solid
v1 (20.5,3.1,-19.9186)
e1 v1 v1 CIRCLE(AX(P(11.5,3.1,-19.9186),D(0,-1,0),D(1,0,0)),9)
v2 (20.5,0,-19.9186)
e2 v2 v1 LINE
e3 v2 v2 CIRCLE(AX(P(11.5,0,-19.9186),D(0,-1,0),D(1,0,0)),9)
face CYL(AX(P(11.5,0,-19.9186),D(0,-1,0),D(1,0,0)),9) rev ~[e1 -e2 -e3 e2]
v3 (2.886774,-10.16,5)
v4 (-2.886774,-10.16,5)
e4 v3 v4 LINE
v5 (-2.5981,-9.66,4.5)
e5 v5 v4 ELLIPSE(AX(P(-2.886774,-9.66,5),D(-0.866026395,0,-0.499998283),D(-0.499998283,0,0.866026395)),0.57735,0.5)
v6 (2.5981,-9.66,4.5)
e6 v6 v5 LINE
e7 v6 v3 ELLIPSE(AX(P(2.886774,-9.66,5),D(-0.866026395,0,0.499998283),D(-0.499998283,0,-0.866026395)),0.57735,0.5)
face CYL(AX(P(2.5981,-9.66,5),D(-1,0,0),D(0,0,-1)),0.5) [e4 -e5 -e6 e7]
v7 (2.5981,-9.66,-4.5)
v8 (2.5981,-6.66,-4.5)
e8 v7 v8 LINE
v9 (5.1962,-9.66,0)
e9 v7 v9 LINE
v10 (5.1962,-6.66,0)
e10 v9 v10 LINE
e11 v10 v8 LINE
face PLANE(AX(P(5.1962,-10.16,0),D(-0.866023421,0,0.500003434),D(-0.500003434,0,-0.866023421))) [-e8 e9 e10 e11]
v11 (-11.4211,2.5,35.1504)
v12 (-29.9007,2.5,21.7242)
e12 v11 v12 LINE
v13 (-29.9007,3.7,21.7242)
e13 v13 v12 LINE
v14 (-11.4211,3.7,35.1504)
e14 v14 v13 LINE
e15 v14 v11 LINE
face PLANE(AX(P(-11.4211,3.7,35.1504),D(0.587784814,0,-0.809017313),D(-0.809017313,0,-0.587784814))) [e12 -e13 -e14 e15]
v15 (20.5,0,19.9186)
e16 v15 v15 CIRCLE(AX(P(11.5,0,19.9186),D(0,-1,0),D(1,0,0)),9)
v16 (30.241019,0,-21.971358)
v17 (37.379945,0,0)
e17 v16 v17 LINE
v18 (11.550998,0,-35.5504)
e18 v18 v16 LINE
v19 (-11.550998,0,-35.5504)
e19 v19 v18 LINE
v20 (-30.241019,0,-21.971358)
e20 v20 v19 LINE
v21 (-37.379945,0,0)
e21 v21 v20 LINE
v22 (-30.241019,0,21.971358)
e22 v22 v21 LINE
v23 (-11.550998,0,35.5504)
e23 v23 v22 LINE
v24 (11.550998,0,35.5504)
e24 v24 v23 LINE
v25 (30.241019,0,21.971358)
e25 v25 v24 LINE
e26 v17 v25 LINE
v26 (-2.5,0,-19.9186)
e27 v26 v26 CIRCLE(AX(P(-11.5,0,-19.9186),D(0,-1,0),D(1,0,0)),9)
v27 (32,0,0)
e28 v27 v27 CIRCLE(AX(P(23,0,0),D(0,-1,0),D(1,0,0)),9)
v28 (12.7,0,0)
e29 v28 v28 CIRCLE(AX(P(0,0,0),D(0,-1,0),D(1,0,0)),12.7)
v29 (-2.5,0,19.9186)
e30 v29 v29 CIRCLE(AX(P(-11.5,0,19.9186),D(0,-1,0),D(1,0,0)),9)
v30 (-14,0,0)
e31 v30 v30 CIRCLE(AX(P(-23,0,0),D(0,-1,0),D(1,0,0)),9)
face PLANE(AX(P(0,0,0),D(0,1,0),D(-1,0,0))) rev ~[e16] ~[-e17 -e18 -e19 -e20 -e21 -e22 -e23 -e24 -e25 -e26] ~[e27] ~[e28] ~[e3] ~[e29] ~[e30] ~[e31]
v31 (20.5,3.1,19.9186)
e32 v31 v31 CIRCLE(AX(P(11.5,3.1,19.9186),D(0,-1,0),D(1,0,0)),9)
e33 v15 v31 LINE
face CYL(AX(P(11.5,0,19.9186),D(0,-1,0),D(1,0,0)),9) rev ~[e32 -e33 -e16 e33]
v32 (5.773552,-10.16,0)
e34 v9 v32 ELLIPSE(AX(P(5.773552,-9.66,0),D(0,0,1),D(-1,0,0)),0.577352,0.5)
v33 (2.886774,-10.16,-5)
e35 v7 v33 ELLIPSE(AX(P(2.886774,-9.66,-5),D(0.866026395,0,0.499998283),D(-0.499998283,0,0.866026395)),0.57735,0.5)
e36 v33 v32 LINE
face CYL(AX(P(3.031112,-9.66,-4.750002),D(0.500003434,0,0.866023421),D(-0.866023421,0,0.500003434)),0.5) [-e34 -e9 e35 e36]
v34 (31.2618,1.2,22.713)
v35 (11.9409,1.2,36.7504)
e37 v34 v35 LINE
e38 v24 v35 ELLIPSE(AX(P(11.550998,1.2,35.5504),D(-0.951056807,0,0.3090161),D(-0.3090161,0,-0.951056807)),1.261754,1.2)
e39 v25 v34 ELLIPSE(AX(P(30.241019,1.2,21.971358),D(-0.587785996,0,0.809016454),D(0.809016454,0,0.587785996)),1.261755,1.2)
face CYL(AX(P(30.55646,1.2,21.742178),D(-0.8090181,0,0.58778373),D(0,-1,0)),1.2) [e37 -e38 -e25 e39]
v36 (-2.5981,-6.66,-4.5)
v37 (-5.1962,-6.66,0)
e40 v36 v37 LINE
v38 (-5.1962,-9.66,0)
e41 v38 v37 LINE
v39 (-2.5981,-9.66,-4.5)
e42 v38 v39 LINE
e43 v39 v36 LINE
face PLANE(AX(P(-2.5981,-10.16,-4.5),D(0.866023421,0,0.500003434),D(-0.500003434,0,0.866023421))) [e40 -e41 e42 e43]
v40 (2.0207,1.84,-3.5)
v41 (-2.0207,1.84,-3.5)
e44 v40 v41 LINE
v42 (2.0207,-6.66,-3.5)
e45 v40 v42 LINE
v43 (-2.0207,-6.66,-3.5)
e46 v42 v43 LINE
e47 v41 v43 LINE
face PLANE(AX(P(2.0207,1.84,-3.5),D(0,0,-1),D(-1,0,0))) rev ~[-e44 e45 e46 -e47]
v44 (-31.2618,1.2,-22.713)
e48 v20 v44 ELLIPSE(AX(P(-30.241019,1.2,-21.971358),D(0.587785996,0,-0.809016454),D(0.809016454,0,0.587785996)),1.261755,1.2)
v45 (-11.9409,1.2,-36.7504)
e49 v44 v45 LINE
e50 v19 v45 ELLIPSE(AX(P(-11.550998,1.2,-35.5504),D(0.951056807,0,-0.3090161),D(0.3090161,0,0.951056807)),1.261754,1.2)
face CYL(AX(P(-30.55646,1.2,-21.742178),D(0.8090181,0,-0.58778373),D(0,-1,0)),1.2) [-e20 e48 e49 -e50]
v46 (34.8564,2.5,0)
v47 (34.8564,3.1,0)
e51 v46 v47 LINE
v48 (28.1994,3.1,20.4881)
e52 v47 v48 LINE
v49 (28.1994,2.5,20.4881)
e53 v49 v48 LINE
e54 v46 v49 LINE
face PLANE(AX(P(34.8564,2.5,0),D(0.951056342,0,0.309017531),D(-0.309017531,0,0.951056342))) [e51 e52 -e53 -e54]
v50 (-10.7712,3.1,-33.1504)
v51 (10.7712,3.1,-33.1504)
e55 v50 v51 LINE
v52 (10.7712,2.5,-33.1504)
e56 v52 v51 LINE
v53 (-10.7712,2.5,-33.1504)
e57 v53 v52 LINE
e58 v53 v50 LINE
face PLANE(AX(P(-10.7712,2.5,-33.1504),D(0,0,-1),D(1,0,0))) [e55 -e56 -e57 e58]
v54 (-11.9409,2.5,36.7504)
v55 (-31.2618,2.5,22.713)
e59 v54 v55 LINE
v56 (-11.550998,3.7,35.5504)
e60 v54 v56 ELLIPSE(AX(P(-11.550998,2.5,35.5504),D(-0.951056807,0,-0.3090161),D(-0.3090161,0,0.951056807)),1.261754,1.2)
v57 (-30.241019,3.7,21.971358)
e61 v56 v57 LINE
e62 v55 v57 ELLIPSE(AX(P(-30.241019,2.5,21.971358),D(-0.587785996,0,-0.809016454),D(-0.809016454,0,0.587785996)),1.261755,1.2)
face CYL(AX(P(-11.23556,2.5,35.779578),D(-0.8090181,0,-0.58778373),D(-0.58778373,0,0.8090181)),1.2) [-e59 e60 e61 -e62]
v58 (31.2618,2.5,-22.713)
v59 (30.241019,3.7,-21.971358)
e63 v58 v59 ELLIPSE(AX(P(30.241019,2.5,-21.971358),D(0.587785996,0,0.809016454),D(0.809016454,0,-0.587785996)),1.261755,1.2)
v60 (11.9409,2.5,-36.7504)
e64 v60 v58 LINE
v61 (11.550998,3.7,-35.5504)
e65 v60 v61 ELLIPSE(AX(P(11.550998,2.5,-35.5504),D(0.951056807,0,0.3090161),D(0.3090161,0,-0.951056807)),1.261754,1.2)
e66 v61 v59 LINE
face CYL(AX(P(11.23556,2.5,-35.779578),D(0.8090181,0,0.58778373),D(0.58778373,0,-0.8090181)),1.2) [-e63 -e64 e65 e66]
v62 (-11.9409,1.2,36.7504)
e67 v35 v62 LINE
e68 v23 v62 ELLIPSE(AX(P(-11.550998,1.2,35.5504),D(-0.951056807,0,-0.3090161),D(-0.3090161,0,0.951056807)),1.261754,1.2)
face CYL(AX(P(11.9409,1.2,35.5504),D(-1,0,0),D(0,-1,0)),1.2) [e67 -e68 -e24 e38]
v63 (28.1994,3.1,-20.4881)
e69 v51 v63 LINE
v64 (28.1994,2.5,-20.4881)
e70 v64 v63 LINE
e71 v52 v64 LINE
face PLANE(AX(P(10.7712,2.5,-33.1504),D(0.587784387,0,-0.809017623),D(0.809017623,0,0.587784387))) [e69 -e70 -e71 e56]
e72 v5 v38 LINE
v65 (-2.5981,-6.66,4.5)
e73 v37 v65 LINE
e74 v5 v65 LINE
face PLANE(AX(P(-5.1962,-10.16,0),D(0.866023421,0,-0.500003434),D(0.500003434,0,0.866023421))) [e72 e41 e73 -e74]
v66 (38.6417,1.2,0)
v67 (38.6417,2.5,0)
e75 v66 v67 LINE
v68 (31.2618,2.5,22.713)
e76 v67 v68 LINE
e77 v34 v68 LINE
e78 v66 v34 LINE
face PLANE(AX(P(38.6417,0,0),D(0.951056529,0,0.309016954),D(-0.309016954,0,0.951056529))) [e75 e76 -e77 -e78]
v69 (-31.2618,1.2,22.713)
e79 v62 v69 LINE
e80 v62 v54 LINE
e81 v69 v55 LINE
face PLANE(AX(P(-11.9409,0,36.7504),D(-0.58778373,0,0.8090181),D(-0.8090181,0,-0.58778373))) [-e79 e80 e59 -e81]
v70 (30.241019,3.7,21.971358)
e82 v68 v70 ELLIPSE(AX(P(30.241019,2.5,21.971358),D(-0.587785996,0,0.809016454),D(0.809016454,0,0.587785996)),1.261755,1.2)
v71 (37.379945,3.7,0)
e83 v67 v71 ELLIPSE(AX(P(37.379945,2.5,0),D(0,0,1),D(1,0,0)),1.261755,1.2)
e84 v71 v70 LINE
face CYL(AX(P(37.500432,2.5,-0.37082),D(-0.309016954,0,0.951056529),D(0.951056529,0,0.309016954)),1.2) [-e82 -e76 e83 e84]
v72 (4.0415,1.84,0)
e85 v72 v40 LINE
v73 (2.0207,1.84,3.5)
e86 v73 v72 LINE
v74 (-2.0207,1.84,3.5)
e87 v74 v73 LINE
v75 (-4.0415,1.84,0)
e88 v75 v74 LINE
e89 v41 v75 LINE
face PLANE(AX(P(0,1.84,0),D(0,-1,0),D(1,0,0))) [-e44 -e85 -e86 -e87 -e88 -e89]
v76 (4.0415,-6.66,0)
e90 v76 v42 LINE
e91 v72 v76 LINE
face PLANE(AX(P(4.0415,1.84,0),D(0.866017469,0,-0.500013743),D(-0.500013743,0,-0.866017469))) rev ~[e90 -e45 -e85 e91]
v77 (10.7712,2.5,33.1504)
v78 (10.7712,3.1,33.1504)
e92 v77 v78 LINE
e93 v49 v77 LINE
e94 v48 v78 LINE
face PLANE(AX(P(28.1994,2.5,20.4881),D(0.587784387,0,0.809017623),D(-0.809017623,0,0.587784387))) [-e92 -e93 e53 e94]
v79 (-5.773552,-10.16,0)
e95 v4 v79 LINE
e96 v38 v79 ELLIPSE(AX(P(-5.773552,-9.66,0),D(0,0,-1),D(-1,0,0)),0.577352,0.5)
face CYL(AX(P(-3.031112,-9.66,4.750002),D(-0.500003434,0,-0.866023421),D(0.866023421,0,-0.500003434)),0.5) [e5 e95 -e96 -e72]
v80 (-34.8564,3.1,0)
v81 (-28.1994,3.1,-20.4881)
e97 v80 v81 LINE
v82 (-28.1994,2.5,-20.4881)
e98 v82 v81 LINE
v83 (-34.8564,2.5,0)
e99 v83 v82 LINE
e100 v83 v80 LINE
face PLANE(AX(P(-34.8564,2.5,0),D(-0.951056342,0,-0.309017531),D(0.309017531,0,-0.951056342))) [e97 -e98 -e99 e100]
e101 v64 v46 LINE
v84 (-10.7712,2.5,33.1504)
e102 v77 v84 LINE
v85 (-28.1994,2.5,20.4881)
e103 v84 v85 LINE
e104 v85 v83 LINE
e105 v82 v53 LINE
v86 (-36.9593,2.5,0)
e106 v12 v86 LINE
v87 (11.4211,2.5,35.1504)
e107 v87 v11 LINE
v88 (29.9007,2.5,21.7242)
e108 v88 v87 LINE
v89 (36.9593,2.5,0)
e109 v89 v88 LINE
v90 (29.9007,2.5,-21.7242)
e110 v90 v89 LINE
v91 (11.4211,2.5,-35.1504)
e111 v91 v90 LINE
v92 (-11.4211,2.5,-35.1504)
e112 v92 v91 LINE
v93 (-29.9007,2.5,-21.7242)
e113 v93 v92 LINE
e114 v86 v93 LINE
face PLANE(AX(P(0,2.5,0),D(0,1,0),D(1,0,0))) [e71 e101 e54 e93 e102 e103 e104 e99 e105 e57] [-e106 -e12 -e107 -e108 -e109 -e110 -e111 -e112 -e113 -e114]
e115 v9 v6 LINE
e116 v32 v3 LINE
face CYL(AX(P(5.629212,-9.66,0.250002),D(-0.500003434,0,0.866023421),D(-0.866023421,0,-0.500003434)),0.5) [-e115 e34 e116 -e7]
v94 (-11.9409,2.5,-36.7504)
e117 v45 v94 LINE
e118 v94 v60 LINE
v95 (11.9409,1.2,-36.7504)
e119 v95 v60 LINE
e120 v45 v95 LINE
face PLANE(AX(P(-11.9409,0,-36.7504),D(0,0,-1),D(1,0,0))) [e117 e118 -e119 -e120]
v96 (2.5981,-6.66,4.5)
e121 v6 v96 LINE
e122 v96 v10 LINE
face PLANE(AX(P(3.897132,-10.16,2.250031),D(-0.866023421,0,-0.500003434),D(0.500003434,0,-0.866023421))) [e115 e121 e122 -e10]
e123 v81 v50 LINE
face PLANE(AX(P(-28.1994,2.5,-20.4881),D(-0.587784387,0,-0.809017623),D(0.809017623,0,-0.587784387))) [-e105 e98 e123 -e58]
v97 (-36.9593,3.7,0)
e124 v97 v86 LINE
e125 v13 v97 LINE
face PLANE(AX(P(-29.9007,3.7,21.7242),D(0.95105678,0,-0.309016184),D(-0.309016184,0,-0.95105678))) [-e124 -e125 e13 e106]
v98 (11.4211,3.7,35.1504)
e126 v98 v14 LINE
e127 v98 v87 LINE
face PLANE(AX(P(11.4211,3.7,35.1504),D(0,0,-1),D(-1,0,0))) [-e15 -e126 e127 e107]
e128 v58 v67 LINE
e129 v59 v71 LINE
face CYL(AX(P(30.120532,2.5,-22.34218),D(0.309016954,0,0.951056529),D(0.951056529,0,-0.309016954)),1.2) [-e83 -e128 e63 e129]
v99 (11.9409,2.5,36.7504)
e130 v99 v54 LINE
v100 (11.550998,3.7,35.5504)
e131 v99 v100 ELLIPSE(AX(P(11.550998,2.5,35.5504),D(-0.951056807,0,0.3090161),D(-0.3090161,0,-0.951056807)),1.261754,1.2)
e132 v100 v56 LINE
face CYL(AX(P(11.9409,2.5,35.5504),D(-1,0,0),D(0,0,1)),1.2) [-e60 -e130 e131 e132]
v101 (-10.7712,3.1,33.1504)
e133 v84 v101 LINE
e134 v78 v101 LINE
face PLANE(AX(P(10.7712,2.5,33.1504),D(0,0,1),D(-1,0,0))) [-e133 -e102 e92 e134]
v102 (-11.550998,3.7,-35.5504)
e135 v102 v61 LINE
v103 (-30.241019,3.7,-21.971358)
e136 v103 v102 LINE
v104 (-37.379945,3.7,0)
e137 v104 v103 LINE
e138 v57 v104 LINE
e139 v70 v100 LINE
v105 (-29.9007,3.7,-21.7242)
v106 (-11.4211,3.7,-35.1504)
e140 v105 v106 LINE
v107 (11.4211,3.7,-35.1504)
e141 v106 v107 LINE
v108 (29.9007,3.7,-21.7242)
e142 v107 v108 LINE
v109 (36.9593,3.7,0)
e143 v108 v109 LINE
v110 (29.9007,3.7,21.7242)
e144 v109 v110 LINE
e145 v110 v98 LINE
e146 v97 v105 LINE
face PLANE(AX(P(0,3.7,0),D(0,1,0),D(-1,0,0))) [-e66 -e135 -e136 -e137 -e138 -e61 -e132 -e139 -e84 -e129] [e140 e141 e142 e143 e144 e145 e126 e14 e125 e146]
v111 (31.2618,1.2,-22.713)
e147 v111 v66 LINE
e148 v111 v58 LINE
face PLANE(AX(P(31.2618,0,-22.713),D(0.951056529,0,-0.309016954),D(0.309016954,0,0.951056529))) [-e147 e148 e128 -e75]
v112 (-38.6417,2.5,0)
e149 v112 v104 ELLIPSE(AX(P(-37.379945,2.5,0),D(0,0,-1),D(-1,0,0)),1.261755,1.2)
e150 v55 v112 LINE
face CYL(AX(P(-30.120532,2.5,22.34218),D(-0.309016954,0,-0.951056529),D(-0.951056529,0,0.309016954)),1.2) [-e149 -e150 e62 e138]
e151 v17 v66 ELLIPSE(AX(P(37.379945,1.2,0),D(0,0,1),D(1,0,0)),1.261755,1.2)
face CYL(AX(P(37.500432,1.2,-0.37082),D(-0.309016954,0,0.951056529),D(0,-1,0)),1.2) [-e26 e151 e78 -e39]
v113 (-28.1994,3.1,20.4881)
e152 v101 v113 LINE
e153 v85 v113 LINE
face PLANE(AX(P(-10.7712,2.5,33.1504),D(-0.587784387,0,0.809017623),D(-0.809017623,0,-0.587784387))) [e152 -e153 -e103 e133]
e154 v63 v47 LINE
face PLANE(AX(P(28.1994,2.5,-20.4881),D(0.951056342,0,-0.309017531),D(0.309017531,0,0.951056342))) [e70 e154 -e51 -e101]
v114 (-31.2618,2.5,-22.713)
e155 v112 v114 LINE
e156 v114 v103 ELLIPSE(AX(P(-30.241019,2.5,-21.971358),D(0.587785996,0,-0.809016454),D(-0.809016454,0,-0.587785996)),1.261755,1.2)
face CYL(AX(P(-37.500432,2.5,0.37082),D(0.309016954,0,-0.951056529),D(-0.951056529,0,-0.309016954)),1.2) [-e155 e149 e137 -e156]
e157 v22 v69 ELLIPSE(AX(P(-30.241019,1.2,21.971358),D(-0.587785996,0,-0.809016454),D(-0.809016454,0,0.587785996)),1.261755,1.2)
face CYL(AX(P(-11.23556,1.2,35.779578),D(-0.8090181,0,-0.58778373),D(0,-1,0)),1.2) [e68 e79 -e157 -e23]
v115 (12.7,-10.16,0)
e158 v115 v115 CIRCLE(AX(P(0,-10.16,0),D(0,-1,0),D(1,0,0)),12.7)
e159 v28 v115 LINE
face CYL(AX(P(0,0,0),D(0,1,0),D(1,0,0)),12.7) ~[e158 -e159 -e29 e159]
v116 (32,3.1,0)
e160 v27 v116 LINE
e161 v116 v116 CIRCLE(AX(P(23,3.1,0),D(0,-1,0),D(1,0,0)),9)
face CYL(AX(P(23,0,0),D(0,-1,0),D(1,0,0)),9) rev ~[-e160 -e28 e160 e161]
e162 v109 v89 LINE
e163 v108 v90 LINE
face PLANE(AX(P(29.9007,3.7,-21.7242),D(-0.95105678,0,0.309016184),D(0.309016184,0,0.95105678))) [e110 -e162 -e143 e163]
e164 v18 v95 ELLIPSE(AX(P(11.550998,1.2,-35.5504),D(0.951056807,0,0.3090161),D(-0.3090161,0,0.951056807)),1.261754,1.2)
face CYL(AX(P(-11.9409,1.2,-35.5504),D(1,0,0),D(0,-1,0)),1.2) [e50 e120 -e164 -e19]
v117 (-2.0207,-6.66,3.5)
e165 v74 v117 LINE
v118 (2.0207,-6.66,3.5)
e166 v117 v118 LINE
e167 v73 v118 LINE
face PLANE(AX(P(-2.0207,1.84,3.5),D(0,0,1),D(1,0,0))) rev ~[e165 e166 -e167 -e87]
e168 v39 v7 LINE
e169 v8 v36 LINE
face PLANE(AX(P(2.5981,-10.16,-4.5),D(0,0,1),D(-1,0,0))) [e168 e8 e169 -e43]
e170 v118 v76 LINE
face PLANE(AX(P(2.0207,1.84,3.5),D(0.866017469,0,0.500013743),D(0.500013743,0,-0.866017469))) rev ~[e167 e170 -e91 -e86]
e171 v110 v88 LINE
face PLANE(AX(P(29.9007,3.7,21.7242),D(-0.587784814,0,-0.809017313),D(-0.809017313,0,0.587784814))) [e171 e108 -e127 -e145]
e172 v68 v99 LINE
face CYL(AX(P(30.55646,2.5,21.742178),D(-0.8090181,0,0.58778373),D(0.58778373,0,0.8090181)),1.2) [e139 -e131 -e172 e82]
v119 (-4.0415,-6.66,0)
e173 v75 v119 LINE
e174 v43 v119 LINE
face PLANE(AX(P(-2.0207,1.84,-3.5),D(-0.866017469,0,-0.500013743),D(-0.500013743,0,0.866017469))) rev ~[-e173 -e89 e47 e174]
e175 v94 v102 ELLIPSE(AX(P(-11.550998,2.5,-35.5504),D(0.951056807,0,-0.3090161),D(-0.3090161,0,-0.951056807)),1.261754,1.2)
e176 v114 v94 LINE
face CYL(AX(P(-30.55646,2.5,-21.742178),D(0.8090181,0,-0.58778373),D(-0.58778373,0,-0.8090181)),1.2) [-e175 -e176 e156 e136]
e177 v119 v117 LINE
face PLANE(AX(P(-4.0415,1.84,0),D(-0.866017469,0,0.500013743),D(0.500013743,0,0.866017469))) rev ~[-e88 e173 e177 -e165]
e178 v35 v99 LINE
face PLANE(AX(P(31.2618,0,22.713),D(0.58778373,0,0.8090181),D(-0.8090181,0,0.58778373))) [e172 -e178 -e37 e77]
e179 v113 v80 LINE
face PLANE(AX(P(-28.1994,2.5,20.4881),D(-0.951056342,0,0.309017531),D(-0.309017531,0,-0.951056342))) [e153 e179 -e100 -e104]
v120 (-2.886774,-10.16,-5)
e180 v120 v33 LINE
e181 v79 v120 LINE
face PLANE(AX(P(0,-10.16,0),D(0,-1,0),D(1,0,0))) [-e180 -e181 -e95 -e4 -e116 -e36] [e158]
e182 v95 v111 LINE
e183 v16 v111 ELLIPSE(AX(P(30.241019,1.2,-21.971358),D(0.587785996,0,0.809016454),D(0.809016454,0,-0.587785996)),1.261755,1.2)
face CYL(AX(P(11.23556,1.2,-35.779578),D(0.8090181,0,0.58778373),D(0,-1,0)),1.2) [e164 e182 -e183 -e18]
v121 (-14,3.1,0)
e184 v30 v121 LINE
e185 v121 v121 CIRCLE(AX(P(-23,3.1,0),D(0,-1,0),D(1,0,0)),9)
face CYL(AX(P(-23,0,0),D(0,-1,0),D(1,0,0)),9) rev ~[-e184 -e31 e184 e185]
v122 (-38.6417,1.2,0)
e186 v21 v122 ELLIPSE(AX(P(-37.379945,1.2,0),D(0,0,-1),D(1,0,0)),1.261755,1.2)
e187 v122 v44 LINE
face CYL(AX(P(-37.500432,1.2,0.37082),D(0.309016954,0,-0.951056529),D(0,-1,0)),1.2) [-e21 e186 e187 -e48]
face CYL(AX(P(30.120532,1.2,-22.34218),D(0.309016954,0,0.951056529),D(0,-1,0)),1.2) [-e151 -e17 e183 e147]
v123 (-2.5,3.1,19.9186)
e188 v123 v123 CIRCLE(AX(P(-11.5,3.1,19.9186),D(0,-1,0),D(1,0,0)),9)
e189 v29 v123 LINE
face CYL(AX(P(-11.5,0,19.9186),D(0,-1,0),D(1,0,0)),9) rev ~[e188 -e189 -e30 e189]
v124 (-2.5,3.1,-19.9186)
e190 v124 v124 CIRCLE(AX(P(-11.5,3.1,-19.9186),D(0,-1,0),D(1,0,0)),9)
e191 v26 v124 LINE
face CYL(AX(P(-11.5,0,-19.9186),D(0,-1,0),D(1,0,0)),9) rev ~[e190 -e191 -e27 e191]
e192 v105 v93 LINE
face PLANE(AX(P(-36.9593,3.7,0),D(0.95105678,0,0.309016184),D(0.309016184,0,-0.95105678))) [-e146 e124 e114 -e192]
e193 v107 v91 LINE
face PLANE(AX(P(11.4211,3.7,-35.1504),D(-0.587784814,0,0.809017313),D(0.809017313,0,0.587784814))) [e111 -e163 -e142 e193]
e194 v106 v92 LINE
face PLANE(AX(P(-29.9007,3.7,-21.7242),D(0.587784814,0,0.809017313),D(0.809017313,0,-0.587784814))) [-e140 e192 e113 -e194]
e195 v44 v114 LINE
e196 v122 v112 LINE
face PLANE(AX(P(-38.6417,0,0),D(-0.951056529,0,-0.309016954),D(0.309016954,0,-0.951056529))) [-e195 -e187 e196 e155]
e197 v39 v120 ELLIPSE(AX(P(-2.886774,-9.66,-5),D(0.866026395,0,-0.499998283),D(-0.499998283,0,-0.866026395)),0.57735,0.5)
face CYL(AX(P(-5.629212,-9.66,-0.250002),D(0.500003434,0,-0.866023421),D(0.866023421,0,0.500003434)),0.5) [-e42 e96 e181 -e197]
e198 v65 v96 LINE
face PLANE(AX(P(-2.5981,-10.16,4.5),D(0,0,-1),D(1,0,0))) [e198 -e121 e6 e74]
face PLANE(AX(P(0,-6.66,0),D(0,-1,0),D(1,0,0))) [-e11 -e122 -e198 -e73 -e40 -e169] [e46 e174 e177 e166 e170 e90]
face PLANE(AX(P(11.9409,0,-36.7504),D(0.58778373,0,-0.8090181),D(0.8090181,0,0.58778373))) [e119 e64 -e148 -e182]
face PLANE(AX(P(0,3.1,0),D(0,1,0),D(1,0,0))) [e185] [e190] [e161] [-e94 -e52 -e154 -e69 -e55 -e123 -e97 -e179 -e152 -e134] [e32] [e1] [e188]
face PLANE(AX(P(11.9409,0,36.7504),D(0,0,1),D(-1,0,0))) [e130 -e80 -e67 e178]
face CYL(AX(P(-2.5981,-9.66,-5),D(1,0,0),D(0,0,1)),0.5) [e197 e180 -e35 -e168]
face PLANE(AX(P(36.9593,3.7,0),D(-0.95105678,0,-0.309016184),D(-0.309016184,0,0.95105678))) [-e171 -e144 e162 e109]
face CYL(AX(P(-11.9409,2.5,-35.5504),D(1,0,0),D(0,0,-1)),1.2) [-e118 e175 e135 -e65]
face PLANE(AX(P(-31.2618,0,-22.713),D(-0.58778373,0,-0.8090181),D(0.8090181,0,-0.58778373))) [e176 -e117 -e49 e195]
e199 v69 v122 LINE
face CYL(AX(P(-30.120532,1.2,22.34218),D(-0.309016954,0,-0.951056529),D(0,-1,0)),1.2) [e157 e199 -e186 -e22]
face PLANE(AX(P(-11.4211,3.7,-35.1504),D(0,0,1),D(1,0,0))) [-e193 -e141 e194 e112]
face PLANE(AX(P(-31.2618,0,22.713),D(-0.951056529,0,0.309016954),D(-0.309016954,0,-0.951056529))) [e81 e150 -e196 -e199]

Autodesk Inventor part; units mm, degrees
ref_plane "YZ Plane" through (0, 0, 0) normal (1, 0, 0) x (0, 1, 0)
ref_plane "XZ Plane" through (0, 0, 0) normal (0, 1, 0) x (-1, 0, 0)
ref_plane "XY Plane" through (0, 0, 0) normal (0, 0, 1) x (1, 0, 0)
sketch "스케치1" plane through (0, 0, 0) normal (0, 1, 0) x (-1, 0, 0)
  line L0 (-10.9012, 33.5504) -> (10.9012, 33.5504)
  line L1 (10.9012, 33.5504) -> (28.5397, 20.7353)
  line L2 (28.5397, 20.7353) -> (35.277, 0)
  line L3 (35.277, 0) -> (28.5397, -20.7353)
  line L4 (28.5397, -20.7353) -> (10.9012, -33.5504)
  line L5 (10.9012, -33.5504) -> (-10.9012, -33.5504)
  line L6 (-10.9012, -33.5504) -> (-28.5397, -20.7353)
  line L7 (-28.5397, -20.7353) -> (-35.277, 0)
  line L8 (-35.277, 0) -> (-28.5397, 20.7353)
  line L9 (-28.5397, 20.7353) -> (-10.9012, 33.5504)
  line L10 (11.9409, -36.7504) -> (-11.9409, -36.7504)
  line L11 (-11.9409, -36.7504) -> (-31.2618, -22.713)
  line L12 (-31.2618, -22.713) -> (-38.6417, 0)
  line L13 (-38.6417, 0) -> (-31.2618, 22.713)
  line L14 (-31.2618, 22.713) -> (-11.9409, 36.7504)
  line L15 (-11.9409, 36.7504) -> (11.9409, 36.7504)
  line L16 (11.9409, 36.7504) -> (31.2618, 22.713)
  line L17 (31.2618, 22.713) -> (38.6417, 0)
  line L18 (38.6417, 0) -> (31.2618, -22.713)
  line L19 (31.2618, -22.713) -> (11.9409, -36.7504)
  point P0 (0, 0)
  point P1 (0, 0)
  point P2 (0, 0)
  dimension "d0" = 70.554
  dimension "d1" = 3.2
extrude "돌출1" add sketch "스케치1" along normal blind 3.7 contours L0 L1 L2 L3 L4 L5 L6 L7 L8 L9 | L10 L11 L12 L13 L14 L15 L16 L17 L18 L19
sketch "스케치2" plane through (0, 3.7, 0) normal (0, 1, 0) x (1, 0, 0)
  line L0 (-11.4211, 35.1504) -> (11.4211, 35.1504)
  line L1 (11.4211, 35.1504) -> (29.9007, 21.7242)
  line L2 (29.9007, 21.7242) -> (36.9593, 0)
  line L3 (36.9593, 0) -> (29.9007, -21.7242)
  line L4 (29.9007, -21.7242) -> (11.4211, -35.1504)
  line L5 (11.4211, -35.1504) -> (-11.4211, -35.1504)
  line L6 (-11.4211, -35.1504) -> (-29.9007, -21.7242)
  line L7 (-29.9007, -21.7242) -> (-36.9593, 0)
  line L8 (-36.9593, 0) -> (-29.9007, 21.7242)
  line L9 (-29.9007, 21.7242) -> (-11.4211, 35.1504)
  line L10 (-31.2618, 22.713) -> (-38.6417, 0) projected
  point P0 (0, 0)
  point P1 (0, 0)
  dimension "d4" = 1.6
extrude "돌출2" cut sketch "스케치2" against normal blind 1.2
sketch "스케치3" plane through (0, 2.5, 0) normal (0, 1, 0) x (1, 0, 0)
  line L0 (-10.7712, 33.1504) -> (10.7712, 33.1504)
  line L1 (10.7712, 33.1504) -> (28.1994, 20.4881)
  line L2 (28.1994, 20.4881) -> (34.8564, 0)
  line L3 (34.8564, 0) -> (28.1994, -20.4881)
  line L4 (28.1994, -20.4881) -> (10.7712, -33.1504)
  line L5 (10.7712, -33.1504) -> (-10.7712, -33.1504)
  line L6 (-10.7712, -33.1504) -> (-28.1994, -20.4881)
  line L7 (-28.1994, -20.4881) -> (-34.8564, 0)
  line L8 (-34.8564, 0) -> (-28.1994, 20.4881)
  line L9 (-28.1994, 20.4881) -> (-10.7712, 33.1504)
  line L10 (-29.9007, 21.7242) -> (-11.4211, 35.1504) projected
  point P0 (0, 0)
  point P1 (0, 0)
  dimension "d7" = 2
extrude "돌출3" add sketch "스케치3" along normal blind 0.6
fillet "모깎기1" radius 1.2 20 edges at (0, 3.7, 36.7504) (0, 0, 36.7504) (-21.6014, 3.7, 29.7317) (-21.6014, 0, 29.7317) (-34.9517, 3.7, 11.3565) (-34.9517, 3.7, -11.3565) (-21.6014, 3.7, -29.7317) (0, 3.7, -36.7504) (21.6014, 3.7, -29.7317) (34.9517, 3.7, -11.3565) (34.9517, 3.7, 11.3565) (21.6014, 3.7, 29.7317) (21.6014, 0, -29.7317) (0, 0, -36.7504) (-21.6014, 0, -29.7317) (-34.9517, 0, -11.3565) (-34.9517, 0, 11.3565) (34.9517, 0, -11.3565) (34.9517, 0, 11.3565) (21.6014, 0, 29.7317)
sketch "스케치12" plane through (0, 0, 0) normal (0, -1, 0) x (1, 0, 0)
  circle A0 centre (0, 0) radius 12.7
  dimension "d53" = 25.4
extrude "돌출12" add sketch "스케치12" along normal blind 10.16
sketch "스케치13" plane through (0, -10.16, 0) normal (0, -1, 0) x (1, 0, 0)
  circle A0 centre (0, 0) radius 4.5
  line L0 (-2.5981, 4.5) -> (2.5981, 4.5)
  line L1 (2.5981, 4.5) -> (5.1962, 0)
  line L2 (5.1962, 0) -> (2.5981, -4.5)
  line L3 (2.5981, -4.5) -> (-2.5981, -4.5)
  line L4 (-2.5981, -4.5) -> (-5.1962, 0)
  line L5 (-5.1962, 0) -> (-2.5981, 4.5)
  point P0 (-3.8971, 2.25)
  point P1 (-3.8971, -2.25)
  point P2 (0, 4.5)
  point P3 (0, -4.5)
  point P4 (3.8971, -2.25)
  point P5 (3.8971, 2.25)
  dimension "d56" = 9
extrude "돌출13" cut sketch "스케치13" against normal blind 12
sketch "스케치14" plane through (0, 0, 0) normal (0, -1, 0) x (1, 0, 0)
  circle A0 centre (-23, 0) radius 9
  circle A1 centre (-11.5, -19.9186) radius 9
  circle A2 centre (11.5, -19.9186) radius 9
  circle A3 centre (23, 0) radius 9
  circle A4 centre (11.5, 19.9186) radius 9
  circle A5 centre (-11.5, 19.9186) radius 9
  point P0 (0, 0)
  dimension "d61" = 18
  dimension "d62" = 23
  dimension "d65" = 360
extrude "돌출14" cut sketch "스케치14" against normal up to surface (3.1 mm away)
sketch "스케치17" plane through (0, 1.84, 0) normal (0, -1, 0) x (1, 0, 0)
  line L0 (-2.5981, 4.5) -> (2.5981, 4.5) projected
  line L1 (-5.1962, 0) -> (-2.5981, 4.5) projected
  line L2 (-2.5981, -4.5) -> (-5.1962, 0) projected
  line L3 (2.5981, -4.5) -> (-2.5981, -4.5) projected
  line L4 (5.1962, 0) -> (2.5981, -4.5) projected
  line L5 (2.5981, 4.5) -> (5.1962, 0) projected
  line L6 (-2.0207, 3.5) -> (2.0207, 3.5)
  line L7 (2.0207, 3.5) -> (4.0415, 0)
  line L8 (4.0415, 0) -> (2.0207, -3.5)
  line L9 (2.0207, -3.5) -> (-2.0207, -3.5)
  line L10 (-2.0207, -3.5) -> (-4.0415, 0)
  line L11 (-4.0415, 0) -> (-2.0207, 3.5)
  point P0 (0, 0)
  point P1 (0, 0)
  dimension "d87" = 1
extrude "돌출15" add sketch "스케치17" along normal blind 8.5
fillet "모깎기2" radius 0.5 6 edges at (0, -10.16, 4.5) (-3.8971, -10.16, 2.25) (-3.8971, -10.16, -2.25) (3.8971, -10.16, 2.25) (3.8971, -10.16, -2.25) (0, -10.16, -4.5)
equation "\"d76\" = 55deg"
properties part number "OV-PAM_n_10_bottom"
